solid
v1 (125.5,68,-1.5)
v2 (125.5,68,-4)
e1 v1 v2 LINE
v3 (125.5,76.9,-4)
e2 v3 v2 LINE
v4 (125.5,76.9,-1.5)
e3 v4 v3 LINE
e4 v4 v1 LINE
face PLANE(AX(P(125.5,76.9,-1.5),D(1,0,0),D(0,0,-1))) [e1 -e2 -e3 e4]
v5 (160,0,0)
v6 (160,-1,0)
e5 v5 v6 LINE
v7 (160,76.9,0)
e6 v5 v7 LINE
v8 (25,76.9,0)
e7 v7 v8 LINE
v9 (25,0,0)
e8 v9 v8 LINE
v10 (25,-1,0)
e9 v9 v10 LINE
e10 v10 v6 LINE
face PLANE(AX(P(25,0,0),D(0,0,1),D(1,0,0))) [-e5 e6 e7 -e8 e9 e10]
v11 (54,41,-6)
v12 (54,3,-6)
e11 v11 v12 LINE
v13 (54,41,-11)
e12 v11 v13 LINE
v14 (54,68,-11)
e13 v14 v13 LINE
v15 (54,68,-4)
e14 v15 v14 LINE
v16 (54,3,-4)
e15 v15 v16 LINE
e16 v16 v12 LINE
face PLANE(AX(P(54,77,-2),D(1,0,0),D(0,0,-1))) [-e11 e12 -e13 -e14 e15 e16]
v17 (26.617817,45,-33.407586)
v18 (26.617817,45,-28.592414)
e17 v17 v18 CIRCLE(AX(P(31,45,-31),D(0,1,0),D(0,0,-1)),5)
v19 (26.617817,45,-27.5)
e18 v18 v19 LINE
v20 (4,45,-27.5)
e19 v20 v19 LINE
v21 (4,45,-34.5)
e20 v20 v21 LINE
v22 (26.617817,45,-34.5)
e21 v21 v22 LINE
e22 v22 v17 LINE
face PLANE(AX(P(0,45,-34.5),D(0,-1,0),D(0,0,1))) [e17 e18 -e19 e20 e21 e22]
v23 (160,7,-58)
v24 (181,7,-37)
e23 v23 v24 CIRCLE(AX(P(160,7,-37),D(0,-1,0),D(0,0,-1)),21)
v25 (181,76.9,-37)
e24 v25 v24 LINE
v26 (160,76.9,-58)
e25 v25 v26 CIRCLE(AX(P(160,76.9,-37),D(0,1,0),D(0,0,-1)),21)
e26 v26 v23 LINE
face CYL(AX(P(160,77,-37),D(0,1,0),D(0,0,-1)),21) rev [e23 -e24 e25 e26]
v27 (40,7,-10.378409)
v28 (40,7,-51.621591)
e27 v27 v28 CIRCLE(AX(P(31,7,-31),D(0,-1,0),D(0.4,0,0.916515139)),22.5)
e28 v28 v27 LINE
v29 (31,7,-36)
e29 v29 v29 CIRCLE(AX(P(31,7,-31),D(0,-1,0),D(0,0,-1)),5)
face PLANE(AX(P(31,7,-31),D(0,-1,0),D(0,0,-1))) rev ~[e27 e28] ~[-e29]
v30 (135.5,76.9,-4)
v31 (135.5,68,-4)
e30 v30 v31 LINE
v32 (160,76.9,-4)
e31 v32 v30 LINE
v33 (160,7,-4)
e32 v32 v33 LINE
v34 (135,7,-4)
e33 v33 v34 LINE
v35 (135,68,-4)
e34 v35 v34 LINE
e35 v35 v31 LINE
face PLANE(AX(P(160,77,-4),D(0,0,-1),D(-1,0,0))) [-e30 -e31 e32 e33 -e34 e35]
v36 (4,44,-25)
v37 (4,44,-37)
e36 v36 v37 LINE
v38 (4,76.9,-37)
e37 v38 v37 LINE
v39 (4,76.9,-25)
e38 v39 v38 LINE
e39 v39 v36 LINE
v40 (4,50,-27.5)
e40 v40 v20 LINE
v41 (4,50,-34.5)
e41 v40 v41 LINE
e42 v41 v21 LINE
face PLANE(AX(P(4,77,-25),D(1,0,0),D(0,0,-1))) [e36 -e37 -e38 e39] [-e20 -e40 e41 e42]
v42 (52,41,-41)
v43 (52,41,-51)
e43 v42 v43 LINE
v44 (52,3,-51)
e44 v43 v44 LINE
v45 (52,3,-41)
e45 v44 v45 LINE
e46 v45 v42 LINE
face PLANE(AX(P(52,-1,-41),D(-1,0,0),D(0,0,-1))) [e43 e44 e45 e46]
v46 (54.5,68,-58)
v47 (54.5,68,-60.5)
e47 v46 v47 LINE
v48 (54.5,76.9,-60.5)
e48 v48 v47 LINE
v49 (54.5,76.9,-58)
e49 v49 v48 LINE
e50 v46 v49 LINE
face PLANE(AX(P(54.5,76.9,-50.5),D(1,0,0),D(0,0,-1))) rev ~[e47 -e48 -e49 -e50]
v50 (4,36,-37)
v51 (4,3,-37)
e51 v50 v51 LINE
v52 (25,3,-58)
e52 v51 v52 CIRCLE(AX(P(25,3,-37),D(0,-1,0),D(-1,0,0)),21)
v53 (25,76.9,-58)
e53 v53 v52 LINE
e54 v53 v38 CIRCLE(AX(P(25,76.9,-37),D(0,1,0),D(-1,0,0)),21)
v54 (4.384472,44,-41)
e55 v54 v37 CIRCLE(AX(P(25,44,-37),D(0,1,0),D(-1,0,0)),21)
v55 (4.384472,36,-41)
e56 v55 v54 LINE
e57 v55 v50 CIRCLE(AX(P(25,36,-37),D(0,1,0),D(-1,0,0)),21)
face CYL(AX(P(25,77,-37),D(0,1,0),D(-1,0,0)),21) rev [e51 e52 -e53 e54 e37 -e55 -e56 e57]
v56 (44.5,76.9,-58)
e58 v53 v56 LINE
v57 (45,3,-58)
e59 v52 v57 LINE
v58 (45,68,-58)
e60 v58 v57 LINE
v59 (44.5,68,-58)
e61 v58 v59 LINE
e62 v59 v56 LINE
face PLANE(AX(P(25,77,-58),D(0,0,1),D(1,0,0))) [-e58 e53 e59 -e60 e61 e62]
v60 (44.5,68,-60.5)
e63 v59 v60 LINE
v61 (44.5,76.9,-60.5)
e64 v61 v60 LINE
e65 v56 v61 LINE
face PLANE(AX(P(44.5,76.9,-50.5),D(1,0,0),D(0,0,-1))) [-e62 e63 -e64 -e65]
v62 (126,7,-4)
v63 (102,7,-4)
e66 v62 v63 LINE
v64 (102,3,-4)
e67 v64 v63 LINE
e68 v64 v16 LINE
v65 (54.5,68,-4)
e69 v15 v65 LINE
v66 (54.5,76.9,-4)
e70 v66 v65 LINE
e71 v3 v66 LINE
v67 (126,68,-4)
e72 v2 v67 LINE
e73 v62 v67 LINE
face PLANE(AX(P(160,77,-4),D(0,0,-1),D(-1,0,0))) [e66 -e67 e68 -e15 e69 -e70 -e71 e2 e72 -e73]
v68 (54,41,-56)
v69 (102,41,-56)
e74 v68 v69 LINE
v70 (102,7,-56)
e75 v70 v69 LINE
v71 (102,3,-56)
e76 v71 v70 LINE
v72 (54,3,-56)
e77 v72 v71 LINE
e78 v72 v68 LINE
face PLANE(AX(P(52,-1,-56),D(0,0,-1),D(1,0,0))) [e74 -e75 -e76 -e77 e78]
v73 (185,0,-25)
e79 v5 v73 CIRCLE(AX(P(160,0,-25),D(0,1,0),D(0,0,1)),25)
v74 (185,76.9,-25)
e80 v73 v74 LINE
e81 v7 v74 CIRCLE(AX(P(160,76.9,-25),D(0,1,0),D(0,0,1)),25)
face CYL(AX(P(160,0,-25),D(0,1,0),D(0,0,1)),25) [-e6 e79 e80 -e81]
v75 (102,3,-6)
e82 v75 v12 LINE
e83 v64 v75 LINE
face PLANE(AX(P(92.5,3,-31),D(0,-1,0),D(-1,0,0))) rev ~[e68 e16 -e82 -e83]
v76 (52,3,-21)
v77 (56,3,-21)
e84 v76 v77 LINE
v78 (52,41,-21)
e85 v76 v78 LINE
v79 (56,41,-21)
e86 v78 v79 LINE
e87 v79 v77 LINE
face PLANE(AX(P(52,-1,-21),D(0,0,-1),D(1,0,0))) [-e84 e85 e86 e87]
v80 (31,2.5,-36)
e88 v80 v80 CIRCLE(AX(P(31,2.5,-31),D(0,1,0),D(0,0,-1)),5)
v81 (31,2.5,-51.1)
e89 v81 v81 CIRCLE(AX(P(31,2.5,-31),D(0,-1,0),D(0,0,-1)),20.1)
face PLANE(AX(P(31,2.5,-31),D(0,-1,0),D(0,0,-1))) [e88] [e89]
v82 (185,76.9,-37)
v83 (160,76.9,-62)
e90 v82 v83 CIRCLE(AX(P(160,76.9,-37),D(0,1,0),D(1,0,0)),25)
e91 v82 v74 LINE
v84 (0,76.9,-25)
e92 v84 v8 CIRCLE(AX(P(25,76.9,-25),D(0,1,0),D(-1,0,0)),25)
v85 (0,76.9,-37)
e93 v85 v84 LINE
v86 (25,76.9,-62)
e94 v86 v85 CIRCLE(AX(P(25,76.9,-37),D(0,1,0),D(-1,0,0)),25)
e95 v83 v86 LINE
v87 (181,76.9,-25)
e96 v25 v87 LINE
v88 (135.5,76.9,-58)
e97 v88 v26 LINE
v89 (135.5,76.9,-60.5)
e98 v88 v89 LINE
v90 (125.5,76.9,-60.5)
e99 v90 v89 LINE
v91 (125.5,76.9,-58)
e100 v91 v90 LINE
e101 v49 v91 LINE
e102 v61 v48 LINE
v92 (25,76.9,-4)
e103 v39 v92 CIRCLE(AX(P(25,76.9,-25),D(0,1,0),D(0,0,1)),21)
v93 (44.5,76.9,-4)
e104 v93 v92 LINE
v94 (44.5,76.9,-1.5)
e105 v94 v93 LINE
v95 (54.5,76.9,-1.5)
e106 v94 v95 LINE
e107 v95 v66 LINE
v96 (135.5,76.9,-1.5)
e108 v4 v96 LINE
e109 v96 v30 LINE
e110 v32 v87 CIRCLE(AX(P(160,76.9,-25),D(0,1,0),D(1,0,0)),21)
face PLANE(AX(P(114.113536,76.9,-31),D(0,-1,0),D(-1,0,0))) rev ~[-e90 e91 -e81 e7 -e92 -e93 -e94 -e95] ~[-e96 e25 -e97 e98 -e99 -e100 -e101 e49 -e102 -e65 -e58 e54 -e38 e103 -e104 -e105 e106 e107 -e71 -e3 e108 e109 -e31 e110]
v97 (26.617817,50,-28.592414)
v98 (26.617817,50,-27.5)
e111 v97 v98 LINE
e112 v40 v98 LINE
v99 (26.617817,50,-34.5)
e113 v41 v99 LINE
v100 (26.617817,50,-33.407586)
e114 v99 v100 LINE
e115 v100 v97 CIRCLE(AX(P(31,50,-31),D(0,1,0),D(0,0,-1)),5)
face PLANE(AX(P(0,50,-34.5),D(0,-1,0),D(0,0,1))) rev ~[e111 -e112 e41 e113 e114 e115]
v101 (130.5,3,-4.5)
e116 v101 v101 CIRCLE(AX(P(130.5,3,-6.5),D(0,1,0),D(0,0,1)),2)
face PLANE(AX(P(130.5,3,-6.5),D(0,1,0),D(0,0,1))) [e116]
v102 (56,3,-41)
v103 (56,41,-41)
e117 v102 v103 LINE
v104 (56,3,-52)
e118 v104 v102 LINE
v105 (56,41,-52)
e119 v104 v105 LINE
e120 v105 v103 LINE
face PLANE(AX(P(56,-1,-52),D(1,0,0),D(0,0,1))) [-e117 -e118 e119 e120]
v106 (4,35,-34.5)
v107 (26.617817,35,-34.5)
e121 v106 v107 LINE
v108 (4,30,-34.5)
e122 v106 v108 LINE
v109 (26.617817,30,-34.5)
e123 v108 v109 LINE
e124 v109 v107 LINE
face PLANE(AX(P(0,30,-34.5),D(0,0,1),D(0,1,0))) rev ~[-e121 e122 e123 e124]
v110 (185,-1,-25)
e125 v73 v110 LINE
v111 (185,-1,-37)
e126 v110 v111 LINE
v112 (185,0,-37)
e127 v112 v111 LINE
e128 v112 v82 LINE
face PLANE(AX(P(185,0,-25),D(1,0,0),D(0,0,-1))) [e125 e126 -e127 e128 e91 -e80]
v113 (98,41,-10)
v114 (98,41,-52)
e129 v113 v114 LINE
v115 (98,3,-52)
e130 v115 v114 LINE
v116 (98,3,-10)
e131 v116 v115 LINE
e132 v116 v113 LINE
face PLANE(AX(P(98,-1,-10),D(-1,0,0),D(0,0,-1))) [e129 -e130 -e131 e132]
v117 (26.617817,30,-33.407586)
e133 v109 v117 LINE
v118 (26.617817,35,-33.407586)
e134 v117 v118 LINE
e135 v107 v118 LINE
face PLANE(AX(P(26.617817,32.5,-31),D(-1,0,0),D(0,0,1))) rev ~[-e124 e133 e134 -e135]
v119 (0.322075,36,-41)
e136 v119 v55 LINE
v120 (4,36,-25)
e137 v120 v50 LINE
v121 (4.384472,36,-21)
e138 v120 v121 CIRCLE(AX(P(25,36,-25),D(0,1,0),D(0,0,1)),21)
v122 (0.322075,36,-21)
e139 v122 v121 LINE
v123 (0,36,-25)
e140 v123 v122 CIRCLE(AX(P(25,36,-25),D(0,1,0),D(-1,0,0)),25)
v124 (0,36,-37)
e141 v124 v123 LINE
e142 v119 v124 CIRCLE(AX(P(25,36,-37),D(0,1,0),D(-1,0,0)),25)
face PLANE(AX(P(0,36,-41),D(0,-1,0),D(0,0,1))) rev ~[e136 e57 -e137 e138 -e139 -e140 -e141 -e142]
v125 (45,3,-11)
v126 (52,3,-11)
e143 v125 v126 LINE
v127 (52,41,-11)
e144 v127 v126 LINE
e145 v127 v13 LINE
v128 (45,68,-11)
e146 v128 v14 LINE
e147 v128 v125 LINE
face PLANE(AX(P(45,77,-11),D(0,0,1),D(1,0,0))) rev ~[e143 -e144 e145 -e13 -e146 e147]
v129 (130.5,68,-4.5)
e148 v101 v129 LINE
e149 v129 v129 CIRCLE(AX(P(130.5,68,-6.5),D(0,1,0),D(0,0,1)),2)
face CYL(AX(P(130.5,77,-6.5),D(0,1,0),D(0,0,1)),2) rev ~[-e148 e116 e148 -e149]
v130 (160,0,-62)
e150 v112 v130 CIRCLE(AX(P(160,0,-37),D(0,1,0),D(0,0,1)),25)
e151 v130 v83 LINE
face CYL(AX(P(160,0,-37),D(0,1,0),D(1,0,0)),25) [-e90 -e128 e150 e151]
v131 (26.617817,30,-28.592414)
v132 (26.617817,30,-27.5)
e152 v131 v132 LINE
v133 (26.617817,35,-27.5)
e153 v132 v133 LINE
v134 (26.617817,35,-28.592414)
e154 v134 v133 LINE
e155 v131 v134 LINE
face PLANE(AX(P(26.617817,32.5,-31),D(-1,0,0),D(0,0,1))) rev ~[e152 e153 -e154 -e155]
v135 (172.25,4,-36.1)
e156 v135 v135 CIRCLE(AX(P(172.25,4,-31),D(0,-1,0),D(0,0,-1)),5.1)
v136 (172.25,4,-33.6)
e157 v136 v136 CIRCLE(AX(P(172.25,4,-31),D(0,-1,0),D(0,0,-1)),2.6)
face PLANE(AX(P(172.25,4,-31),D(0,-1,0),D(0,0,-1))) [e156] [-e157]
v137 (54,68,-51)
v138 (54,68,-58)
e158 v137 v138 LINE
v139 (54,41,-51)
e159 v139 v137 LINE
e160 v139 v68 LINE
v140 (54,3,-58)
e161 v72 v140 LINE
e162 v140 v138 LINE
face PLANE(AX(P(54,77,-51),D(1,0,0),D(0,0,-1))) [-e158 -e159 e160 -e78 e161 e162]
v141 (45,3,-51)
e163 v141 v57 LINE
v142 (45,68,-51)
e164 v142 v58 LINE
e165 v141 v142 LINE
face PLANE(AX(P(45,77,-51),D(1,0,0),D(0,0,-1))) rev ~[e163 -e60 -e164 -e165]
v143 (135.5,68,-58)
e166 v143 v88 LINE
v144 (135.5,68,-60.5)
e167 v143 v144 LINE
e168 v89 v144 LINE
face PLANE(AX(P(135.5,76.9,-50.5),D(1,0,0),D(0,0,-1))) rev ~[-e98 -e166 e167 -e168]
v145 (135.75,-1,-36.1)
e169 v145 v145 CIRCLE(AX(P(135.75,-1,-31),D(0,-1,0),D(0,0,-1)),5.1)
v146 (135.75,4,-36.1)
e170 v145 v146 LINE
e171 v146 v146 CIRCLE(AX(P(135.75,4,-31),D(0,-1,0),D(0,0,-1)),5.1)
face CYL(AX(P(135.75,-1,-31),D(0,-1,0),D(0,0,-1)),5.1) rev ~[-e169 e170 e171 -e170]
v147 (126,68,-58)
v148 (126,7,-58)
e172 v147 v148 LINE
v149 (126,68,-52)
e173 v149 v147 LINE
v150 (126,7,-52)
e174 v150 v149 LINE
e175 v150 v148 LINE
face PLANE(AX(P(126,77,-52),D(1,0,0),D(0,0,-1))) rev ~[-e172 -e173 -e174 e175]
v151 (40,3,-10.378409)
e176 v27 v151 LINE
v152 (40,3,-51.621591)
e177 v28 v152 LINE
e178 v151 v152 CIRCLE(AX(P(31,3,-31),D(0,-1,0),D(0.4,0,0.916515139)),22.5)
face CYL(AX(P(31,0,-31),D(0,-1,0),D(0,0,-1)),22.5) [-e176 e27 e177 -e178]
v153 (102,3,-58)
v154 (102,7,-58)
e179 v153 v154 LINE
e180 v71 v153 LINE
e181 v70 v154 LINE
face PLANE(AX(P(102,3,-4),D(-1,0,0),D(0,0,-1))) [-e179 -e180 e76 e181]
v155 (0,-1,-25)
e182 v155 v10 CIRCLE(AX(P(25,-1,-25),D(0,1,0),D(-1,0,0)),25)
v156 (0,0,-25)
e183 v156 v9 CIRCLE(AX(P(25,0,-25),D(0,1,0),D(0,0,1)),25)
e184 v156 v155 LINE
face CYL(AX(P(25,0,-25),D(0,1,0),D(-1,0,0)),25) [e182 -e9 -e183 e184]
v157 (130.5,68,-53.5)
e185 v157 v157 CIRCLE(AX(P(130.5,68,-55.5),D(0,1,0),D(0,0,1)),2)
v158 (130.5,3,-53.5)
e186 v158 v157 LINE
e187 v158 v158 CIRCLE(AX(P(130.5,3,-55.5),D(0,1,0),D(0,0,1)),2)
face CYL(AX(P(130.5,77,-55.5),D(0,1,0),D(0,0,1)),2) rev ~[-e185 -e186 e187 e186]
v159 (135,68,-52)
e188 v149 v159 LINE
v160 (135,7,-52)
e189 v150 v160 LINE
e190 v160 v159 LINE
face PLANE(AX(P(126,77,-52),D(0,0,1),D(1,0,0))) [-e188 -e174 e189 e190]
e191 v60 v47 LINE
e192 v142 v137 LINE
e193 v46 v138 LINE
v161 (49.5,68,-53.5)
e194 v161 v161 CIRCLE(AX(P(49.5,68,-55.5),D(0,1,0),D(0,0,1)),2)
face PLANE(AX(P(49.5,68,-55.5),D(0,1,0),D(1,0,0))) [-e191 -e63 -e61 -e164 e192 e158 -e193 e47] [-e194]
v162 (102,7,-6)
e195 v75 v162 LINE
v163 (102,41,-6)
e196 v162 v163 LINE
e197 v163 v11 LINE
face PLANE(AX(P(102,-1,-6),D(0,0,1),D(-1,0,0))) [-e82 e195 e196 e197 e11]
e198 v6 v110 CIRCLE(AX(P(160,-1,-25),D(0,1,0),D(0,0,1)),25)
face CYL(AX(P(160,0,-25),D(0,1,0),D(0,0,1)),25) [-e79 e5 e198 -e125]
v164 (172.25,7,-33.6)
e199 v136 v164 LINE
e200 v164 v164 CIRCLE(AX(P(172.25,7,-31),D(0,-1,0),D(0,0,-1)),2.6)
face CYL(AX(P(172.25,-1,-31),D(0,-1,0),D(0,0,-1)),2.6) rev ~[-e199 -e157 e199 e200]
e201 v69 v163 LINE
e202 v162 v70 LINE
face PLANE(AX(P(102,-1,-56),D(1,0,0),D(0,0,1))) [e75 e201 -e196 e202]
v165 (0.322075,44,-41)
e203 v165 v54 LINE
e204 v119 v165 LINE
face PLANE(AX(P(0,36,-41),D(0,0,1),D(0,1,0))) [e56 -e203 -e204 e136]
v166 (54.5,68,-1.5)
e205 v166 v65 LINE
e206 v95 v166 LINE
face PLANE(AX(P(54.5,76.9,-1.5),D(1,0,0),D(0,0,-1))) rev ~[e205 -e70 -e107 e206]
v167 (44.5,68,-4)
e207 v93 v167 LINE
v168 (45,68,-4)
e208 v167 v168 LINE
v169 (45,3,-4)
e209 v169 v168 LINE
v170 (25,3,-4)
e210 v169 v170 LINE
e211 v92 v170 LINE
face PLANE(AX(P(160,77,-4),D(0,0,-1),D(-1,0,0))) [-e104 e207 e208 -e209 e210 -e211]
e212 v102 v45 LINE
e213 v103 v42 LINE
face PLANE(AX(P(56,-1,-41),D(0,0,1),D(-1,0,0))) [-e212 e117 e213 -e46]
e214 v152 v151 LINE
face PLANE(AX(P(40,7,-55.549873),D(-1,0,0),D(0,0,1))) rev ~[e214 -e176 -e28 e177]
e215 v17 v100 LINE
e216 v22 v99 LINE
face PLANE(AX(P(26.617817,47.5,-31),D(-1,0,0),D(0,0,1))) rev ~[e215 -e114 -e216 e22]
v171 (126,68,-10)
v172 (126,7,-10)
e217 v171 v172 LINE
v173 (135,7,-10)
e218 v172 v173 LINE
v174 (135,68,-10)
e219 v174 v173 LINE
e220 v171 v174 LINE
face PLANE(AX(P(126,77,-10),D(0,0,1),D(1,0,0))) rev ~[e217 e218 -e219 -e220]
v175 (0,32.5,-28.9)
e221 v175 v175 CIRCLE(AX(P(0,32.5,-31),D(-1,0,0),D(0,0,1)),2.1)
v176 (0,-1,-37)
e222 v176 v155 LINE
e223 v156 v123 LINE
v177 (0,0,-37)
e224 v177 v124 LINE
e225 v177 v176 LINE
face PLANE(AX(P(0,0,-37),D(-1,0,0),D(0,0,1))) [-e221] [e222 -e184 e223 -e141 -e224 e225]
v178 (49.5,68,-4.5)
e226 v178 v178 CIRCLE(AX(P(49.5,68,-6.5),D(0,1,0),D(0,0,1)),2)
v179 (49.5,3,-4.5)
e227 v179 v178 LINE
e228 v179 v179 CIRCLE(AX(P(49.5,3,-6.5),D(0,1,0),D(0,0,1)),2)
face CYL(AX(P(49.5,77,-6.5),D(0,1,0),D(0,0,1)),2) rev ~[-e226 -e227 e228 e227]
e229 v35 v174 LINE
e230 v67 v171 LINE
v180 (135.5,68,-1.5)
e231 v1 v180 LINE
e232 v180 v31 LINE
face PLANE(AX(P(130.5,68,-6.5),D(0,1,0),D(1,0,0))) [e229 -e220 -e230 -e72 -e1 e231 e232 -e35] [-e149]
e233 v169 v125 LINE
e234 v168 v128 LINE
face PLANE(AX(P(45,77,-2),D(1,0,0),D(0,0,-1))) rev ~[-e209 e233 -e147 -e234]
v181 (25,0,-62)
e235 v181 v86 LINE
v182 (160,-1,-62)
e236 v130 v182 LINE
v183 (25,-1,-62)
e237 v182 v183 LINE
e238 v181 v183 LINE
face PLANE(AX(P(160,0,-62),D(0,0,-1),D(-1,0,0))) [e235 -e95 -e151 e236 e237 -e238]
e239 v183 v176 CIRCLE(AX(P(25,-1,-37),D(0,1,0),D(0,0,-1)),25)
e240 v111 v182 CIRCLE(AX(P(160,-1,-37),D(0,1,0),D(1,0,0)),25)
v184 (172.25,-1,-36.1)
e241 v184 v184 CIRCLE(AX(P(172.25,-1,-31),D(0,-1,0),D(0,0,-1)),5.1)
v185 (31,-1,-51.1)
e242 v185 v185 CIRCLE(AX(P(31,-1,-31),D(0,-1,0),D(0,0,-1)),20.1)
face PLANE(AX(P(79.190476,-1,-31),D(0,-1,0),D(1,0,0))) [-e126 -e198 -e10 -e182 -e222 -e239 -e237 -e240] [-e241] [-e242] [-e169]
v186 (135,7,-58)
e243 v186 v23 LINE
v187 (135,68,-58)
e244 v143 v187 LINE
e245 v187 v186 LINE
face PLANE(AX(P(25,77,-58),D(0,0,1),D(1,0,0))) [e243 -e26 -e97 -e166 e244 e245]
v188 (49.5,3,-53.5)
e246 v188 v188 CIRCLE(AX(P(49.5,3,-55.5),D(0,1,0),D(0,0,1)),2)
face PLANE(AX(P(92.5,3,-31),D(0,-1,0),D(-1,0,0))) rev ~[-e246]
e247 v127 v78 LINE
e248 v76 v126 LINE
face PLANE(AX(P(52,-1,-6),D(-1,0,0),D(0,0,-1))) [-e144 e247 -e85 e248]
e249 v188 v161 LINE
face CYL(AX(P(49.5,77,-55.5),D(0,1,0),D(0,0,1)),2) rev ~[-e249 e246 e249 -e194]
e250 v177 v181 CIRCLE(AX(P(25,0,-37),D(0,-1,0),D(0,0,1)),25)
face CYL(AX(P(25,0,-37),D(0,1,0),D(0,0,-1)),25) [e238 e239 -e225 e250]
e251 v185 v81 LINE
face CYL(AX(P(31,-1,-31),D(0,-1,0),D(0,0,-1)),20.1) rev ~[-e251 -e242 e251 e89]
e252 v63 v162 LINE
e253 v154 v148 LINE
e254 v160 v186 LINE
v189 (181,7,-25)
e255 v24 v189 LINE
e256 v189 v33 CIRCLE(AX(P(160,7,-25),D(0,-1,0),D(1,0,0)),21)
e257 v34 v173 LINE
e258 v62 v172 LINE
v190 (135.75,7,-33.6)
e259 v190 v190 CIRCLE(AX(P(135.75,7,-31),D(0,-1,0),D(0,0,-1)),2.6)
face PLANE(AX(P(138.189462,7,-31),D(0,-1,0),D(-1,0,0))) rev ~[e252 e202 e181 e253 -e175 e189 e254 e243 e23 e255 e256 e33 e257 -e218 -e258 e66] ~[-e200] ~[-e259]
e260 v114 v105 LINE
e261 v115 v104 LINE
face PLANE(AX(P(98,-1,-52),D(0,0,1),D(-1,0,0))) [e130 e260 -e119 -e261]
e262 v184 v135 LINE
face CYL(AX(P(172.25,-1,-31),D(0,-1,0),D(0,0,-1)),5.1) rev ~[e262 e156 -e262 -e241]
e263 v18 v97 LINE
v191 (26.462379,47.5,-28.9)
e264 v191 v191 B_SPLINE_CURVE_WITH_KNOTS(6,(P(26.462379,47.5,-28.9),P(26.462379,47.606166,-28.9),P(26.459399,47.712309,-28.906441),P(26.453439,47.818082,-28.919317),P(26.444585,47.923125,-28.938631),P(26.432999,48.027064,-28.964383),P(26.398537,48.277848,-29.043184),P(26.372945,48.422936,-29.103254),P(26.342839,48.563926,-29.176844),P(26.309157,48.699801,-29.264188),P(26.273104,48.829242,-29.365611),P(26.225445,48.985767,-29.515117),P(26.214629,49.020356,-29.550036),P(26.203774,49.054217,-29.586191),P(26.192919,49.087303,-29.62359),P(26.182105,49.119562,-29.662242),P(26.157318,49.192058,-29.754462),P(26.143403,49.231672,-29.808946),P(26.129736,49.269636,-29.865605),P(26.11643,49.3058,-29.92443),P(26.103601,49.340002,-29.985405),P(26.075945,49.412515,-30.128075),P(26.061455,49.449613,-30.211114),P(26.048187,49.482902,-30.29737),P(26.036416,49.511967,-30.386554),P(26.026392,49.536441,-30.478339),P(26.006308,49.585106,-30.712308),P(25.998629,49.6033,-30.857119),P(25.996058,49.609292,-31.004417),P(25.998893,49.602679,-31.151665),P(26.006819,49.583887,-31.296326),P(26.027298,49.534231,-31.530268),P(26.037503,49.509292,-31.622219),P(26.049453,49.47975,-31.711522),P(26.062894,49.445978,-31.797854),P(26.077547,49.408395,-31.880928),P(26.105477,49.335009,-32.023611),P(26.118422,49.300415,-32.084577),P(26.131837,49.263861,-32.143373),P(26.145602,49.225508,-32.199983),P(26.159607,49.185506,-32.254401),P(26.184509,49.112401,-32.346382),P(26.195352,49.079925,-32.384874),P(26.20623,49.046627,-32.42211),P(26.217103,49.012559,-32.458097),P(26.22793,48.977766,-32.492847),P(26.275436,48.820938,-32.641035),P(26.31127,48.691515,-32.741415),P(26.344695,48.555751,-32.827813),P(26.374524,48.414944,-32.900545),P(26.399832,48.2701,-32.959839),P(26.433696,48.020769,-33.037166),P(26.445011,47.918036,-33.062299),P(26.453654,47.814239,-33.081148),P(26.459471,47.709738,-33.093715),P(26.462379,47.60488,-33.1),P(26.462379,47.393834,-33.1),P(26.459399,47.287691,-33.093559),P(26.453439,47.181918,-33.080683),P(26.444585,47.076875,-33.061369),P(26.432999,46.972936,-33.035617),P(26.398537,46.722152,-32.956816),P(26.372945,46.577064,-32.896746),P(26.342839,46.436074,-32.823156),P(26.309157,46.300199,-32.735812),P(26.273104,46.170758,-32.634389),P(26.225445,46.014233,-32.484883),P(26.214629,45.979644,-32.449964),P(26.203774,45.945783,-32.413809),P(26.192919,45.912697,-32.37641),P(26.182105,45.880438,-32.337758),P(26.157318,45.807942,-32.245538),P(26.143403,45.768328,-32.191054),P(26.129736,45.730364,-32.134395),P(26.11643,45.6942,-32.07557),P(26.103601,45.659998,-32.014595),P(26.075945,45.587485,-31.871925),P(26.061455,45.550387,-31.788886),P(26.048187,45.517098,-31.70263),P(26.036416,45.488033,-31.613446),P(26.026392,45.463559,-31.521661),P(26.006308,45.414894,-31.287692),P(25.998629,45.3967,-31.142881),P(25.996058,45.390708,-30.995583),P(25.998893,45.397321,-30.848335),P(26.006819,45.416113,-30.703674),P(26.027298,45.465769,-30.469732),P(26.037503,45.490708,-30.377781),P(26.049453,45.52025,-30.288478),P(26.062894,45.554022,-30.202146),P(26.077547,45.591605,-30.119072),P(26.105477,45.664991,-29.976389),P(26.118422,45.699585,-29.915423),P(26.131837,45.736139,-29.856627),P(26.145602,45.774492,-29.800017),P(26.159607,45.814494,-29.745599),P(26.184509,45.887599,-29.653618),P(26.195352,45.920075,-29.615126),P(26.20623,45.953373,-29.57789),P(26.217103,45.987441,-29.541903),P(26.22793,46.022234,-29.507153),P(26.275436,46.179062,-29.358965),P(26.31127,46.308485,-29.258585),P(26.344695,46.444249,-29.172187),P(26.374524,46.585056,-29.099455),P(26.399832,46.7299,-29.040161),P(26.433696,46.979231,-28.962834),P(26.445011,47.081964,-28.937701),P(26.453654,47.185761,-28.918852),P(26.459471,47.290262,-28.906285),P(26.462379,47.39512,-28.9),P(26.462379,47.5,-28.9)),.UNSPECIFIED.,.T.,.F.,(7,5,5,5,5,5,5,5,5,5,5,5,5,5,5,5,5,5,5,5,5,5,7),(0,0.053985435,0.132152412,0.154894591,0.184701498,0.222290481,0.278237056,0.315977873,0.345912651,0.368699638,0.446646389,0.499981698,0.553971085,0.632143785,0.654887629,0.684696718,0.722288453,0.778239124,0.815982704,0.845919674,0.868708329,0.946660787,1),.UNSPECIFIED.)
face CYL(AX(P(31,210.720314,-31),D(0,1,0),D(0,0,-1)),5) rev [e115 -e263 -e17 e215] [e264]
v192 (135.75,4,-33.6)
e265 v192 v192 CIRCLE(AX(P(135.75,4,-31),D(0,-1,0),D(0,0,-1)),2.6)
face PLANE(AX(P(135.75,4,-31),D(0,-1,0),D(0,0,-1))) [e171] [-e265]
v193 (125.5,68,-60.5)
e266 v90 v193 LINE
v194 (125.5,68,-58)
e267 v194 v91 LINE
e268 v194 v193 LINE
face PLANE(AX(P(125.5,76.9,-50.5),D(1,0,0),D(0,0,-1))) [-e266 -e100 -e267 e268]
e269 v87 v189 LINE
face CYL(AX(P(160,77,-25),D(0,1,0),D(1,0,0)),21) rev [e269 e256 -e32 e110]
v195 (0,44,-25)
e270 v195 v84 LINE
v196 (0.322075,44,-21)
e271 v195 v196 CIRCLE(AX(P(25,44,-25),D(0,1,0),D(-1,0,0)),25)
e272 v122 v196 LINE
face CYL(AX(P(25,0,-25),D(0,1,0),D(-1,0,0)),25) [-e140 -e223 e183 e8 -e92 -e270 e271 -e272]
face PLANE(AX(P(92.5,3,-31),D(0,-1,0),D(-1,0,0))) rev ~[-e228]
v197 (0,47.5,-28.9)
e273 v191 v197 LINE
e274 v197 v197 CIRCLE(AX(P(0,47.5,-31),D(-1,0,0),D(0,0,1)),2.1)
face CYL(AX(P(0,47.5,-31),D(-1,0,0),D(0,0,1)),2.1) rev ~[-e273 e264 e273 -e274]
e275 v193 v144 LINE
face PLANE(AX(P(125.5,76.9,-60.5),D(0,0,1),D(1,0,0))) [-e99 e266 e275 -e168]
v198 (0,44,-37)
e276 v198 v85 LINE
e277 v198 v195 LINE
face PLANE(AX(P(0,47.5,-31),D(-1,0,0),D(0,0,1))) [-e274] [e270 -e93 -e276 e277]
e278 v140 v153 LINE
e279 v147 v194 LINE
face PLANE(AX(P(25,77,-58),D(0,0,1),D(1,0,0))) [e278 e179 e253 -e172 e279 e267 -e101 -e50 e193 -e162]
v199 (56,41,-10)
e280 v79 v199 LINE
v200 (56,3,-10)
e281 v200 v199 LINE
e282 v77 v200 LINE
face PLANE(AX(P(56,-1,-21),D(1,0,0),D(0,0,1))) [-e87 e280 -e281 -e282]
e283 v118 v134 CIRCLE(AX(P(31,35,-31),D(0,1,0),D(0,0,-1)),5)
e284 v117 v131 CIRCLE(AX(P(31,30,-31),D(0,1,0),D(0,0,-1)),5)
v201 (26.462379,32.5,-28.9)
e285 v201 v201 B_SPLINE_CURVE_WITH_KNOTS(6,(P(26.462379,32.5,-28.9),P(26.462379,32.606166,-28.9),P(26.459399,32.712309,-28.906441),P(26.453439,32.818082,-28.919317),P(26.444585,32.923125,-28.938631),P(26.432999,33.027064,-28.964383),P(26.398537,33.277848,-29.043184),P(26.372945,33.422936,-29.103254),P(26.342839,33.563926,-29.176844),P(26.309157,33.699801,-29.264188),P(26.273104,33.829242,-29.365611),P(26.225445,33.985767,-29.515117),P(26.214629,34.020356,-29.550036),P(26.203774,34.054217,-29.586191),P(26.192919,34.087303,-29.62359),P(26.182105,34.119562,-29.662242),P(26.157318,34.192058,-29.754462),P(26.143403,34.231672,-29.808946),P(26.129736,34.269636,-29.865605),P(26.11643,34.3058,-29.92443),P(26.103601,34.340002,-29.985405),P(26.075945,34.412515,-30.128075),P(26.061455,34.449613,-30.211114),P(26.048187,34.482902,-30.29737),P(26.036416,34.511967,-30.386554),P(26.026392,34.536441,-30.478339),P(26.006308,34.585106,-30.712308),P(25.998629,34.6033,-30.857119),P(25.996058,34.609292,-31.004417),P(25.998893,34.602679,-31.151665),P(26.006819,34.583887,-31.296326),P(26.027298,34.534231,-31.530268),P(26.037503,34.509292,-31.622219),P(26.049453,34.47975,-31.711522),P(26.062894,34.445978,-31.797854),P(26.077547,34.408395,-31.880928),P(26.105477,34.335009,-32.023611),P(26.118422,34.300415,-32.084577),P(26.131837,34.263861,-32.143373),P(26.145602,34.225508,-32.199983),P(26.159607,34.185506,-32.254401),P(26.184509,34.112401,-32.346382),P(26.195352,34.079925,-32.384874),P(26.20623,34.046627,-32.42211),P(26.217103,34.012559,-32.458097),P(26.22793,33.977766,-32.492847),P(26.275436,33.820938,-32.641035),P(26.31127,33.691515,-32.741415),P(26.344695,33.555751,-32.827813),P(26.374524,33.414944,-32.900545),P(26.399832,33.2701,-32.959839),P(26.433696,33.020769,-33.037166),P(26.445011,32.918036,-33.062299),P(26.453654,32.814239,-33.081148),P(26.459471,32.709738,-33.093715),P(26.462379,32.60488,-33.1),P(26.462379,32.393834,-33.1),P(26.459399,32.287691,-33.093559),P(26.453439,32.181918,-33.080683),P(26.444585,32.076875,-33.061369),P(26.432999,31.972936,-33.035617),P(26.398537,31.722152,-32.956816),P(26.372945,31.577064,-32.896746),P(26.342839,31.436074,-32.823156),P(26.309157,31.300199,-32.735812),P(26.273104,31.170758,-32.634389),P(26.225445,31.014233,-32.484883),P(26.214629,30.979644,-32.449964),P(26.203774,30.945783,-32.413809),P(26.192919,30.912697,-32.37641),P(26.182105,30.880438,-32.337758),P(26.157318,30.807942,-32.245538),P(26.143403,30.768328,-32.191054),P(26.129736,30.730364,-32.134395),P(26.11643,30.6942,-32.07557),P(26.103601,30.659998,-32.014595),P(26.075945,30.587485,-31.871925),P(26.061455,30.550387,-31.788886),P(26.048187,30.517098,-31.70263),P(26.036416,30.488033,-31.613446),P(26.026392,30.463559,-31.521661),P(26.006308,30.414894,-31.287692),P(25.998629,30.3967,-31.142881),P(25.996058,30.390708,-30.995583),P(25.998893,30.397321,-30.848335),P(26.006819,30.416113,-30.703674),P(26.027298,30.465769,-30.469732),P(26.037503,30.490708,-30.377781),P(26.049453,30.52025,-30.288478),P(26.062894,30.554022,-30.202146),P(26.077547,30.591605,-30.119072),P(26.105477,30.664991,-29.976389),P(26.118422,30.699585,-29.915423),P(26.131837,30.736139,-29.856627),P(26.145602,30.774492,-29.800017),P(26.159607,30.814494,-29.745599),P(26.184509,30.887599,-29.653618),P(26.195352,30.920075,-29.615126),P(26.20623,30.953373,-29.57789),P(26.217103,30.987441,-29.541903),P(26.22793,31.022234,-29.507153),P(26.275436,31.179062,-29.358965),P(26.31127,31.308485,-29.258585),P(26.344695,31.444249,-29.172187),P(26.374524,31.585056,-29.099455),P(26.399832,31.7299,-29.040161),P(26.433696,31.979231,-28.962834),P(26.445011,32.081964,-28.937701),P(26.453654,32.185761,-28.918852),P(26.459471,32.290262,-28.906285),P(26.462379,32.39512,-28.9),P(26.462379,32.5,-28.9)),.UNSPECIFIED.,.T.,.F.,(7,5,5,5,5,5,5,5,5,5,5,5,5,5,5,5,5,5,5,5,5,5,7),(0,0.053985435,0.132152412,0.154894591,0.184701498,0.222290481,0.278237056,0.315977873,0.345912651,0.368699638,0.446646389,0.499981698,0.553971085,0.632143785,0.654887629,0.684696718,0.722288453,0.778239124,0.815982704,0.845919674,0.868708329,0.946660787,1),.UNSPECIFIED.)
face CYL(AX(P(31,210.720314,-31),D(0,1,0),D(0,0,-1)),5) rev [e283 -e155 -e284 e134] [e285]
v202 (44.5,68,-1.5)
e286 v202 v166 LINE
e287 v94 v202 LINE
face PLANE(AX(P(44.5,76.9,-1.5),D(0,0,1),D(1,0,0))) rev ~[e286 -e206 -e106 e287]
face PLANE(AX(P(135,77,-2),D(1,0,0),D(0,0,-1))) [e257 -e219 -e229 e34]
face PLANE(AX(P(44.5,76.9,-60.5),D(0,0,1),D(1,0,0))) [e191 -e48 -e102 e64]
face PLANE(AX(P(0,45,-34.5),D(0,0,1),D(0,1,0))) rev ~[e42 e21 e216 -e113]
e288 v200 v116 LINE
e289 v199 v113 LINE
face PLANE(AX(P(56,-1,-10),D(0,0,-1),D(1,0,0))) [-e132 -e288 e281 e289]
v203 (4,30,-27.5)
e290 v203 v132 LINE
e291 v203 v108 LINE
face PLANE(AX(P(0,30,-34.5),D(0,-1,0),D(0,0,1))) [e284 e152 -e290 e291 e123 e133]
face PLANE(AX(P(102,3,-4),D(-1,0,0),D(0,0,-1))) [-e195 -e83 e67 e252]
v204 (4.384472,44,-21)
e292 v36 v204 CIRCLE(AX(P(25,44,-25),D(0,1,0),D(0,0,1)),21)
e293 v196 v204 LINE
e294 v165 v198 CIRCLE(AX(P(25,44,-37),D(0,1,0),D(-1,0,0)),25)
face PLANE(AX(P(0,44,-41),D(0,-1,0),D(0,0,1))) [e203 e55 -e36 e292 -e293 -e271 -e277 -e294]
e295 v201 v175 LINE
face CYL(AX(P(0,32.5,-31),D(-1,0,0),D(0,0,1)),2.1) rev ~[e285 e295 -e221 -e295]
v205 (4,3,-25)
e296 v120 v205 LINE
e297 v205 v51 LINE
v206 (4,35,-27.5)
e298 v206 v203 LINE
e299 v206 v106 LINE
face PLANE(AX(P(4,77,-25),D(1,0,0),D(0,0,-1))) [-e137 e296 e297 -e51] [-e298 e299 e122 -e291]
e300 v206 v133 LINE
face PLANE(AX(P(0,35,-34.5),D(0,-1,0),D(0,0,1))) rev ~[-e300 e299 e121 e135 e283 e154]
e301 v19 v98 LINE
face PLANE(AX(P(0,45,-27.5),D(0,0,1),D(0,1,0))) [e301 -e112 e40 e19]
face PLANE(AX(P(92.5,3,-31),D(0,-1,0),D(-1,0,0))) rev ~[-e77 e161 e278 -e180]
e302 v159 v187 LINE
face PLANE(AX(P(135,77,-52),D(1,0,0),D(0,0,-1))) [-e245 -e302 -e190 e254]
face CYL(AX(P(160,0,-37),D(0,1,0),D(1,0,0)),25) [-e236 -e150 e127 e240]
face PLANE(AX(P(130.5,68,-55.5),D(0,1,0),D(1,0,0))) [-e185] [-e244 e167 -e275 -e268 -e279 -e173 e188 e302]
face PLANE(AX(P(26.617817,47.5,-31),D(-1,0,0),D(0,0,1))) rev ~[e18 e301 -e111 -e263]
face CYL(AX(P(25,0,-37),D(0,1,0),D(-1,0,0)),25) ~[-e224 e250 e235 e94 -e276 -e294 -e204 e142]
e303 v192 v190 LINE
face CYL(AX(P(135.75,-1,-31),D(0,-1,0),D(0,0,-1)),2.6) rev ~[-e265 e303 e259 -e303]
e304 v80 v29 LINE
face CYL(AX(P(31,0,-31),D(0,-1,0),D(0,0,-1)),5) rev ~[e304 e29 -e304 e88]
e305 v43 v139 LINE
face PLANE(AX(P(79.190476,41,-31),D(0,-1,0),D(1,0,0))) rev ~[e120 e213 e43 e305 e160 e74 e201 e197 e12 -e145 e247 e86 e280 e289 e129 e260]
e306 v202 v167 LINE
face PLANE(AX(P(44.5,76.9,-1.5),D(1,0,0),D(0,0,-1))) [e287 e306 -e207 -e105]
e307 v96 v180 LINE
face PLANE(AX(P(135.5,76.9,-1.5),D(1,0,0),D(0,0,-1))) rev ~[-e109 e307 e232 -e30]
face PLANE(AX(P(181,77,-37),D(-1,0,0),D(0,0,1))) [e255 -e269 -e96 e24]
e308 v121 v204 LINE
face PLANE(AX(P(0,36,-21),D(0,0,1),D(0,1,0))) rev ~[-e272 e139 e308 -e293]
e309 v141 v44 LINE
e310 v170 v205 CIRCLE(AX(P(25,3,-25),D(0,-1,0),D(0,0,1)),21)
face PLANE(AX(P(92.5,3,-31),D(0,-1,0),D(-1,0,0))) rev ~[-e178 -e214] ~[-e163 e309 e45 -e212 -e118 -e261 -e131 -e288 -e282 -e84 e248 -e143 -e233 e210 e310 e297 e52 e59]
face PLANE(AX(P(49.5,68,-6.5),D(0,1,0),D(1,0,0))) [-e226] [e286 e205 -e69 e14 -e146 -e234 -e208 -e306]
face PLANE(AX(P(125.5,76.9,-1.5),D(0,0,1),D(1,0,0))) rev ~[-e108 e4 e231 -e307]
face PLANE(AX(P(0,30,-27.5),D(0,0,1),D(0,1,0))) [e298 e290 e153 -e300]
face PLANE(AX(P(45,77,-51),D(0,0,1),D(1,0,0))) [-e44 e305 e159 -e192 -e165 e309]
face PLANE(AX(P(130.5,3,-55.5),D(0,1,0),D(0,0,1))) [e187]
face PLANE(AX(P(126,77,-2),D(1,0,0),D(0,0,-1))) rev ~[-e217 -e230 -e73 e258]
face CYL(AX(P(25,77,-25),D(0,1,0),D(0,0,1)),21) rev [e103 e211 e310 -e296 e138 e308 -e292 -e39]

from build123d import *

# Parameters (mm, degrees)
SKETCH1_W                = 185
SKETCH1_H                = 62
BOSS_EXTRUDE1_DEPTH      = 80
FILLET1_R                = 25
CUT_EXTRUDE6_DEPTH       = 74
SKETCH19_R               = 22.5
SKETCH19_R_2             = 5
BOSS_EXTRUDE7_DEPTH      = 7
SKETCH25_W               = 20
SKETCH25_H               = 8
CUT_EXTRUDE16_DEPTH      = 14
CUT_EXTRUDE21_DEPTH      = 0.1
BOSS_EXTRUDE10_DEPTH     = 1
BOSS_EXTRUDE12_DEPTH     = 42
SKETCH30_W               = 9
SKETCH30_H               = 9
SKETCH30_R               = 2
SKETCH30_H_2             = 8
BOSS_EXTRUDE11_DEPTH     = 20
CUT_EXTRUDE27_START      = 80
SKETCH1_3_W              = 185
SKETCH1_3_H              = 62
CUT_EXTRUDE27_DEPTH      = 3
BOSS_EXTRUDE13_REACH     = 212.126
SKETCH30_3_W             = 9
SKETCH30_3_H             = 9
SKETCH30_3_R             = 2
SKETCH30_3_H_2           = 8
SKETCH30_6_W             = 9
SKETCH30_6_H             = 9
SKETCH30_6_R             = 2
SKETCH30_6_H_2           = 8
CUT_EXTRUDE29_DEPTH      = 9
SKETCH34_R               = 20.1
CUT_EXTRUDE30_DEPTH      = 3.5
SKETCH35_W               = 7
SKETCH35_H               = 5
SKETCH35_R               = 2.1
BOSS_EXTRUDE14_DEPTH     = 26.617816632
SKETCH35_2_R             = 2.1
CUT_EXTRUDE31_DEPTH      = 10
BOSS_EXTRUDE15_DEPTH     = 4
SKETCH37_R               = 5.1
SKETCH37_R_2             = 2.6
CUT_EXTRUDE32_DEPTH      = 5
SKETCH37_2_R             = 2.6
CUT_EXTRUDE33_DEPTH      = 45
SKETCH30_7_R             = 2
CUT_EXTRUDE34_DEPTH      = 74
CUT_EXTRUDE36_DEPTH      = 210.720313751
CUT_EXTRUDE36_DEPTH_BACK = 210.720313751
SKETCH19_3_R             = 5
SKETCH40_W               = 10
SKETCH40_H               = 10
CUT_EXTRUDE37_DEPTH      = 8.9
CUT_EXTRUDE38_DEPTH      = 4


with BuildPart() as part:
    # Sketch1 → Boss-Extrude1 (new body)
    with BuildSketch(Plane(origin=(0, 0, 0), x_dir=(1, 0, 0), z_dir=(0, 1, 0))):
        with Locations((92.5, 31)):
            Rectangle(SKETCH1_W, SKETCH1_H)
    extrude(amount=BOSS_EXTRUDE1_DEPTH)

    # Fillet1
    fillet1_edges = [part.edges().sort_by_distance(p)[0] for p in [
        (0, 40, -62),
        (185, 40, -62),
        (185, 40, 0),
        (0, 40, 0),
    ]]
    fillet(fillet1_edges, radius=FILLET1_R)

    # Sketch7 → Cut-Extrude6 (cut)
    with BuildSketch(Plane(origin=(0, 77, 0), x_dir=(1, 0, 0), z_dir=(0, 1, 0))):
        with BuildLine():
            Line((25, 58), (160, 58))
            ThreePointArc((160, 58), (174.849242405, 51.849242405), (181, 37))
            Line((181, 37), (181, 25))
            ThreePointArc((181, 25), (174.849242405, 10.150757595), (160, 4))
            Line((160, 4), (25, 4))
            ThreePointArc((25, 4), (10.150757595, 10.150757595), (4, 25))
            Line((4, 25), (4, 37))
            ThreePointArc((4, 37), (10.150757595, 51.849242405), (25, 58))
        make_face()
    extrude(amount=-CUT_EXTRUDE6_DEPTH, mode=Mode.SUBTRACT)

    # Sketch19 → Boss-Extrude7 (add)
    with BuildSketch(Plane.XZ):
        with Locations(Location((31, -31, 0), (0, 0, 270))):
            Circle(SKETCH19_R)
        with Locations(Location((31, -31, 0), (0, 0, 270))):
            Circle(SKETCH19_R_2, mode=Mode.SUBTRACT)
    extrude(amount=-BOSS_EXTRUDE7_DEPTH)

    # Sketch25 → Cut-Extrude16 (cut)
    with BuildSketch(Plane.ZY):
        with Locations((-31, 40)):
            Rectangle(SKETCH25_W, SKETCH25_H)
    extrude(amount=-CUT_EXTRUDE16_DEPTH, mode=Mode.SUBTRACT)

    # Sketch27 → Cut-Extrude21 (cut)
    with BuildSketch(Plane(origin=(0, 77, 0), x_dir=(1, 0, 0), z_dir=(0, 1, 0))):
        with BuildLine():
            Line((31, 73.5576089), (197.227071292, 73.5576089))
            ThreePointArc((197.227071292, 73.5576089), (239.784680192, 31), (197.227071292, -11.5576089))
            Line((197.227071292, -11.5576089), (31, -11.5576089))
            ThreePointArc((31, -11.5576089), (-11.5576089, 31), (31, 73.5576089))
        make_face()
        with BuildLine():
            Line((4.02, 37), (4.02, 25))
            ThreePointArc((4.02, 25), (10.164899731, 10.164899731), (25, 4.02))
            Line((25, 4.02), (160, 4.02))
            ThreePointArc((160, 4.02), (174.835100269, 10.164899731), (180.98, 25))
            Line((180.98, 25), (180.98, 37))
            ThreePointArc((180.98, 37), (174.835100269, 51.835100269), (160, 57.98))
            Line((160, 57.98), (25, 57.98))
            ThreePointArc((25, 57.98), (10.164899731, 51.835100269), (4.02, 37))
        make_face(mode=Mode.SUBTRACT)
    extrude(amount=-CUT_EXTRUDE21_DEPTH, mode=Mode.SUBTRACT)


with BuildPart() as cut_extrude21_piece_1:
    # of the separate pieces the step leaves, piece 1, a body of its own (cut_extrude21_pieces)
    add(part.part.solids().sort_by_distance((25, 0, 0))[0])

    # Sketch28 → Boss-Extrude10 (add)
    with BuildSketch(Plane.XZ):
        with BuildLine():
            Line((25, 0), (160, 0))
            ThreePointArc((160, 0), (177.67766953, -7.32233047), (185, -25))
            Line((185, -25), (185, -37))
            ThreePointArc((185, -37), (177.67766953, -54.67766953), (160, -62))
            Line((160, -62), (25, -62))
            ThreePointArc((25, -62), (7.32233047, -54.67766953), (0, -37))
            Line((0, -37), (0, -25))
            ThreePointArc((0, -25), (7.32233047, -7.32233047), (25, 0))
        make_face()
    extrude(amount=BOSS_EXTRUDE10_DEPTH)

    # Sketch32 → Boss-Extrude12 (add)
    with BuildSketch(Plane.XZ.offset(1)):
        Polygon((56, -10), (98, -10), (98, -52), (56, -52), (56, -41), (52, -41), (52, -56), (102, -56), (102, -6), (52, -6), (52, -21), (56, -21), align=None)
    extrude(amount=-BOSS_EXTRUDE12_DEPTH)

    # Sketch30 → Boss-Extrude11 (add)
    # profile 1 of 4: a face of its own
    with BuildSketch(Plane(origin=(0, 77, 0), x_dir=(1, 0, 0), z_dir=(0, 1, 0))):
        with Locations((49.5, 6.5)):
            Rectangle(SKETCH30_W, SKETCH30_H)
        with Locations(Location((49.5, 6.5, 0), (0, 0, 270))):
            Circle(SKETCH30_R, mode=Mode.SUBTRACT)
    # profile 2 of 4: a face of its own
    with BuildSketch(Plane(origin=(0, 77, 0), x_dir=(1, 0, 0), z_dir=(0, 1, 0))):
        with Locations((49.5, 55.5)):
            Rectangle(SKETCH30_W, SKETCH30_H)
        with Locations(Location((49.5, 55.5, 0), (0, 0, 270))):
            Circle(SKETCH30_R, mode=Mode.SUBTRACT)
    # profile 3 of 4: a face of its own
    with BuildSketch(Plane(origin=(0, 77, 0), x_dir=(1, 0, 0), z_dir=(0, 1, 0))):
        with Locations((130.5, 56)):
            Rectangle(SKETCH30_W, SKETCH30_H_2)
        with Locations(Location((130.5, 55.5, 0), (0, 0, 270))):
            Circle(SKETCH30_R, mode=Mode.SUBTRACT)
    # profile 4 of 4: a face of its own
    with BuildSketch(Plane(origin=(0, 77, 0), x_dir=(1, 0, 0), z_dir=(0, 1, 0))):
        with Locations((130.5, 6)):
            Rectangle(SKETCH30_W, SKETCH30_H_2)
        with Locations(Location((130.5, 6.5, 0), (0, 0, 270))):
            Circle(SKETCH30_R, mode=Mode.SUBTRACT)
    extrude(amount=-BOSS_EXTRUDE11_DEPTH)

    # Sketch30<3> → Boss-Extrude13 (add, up to next)
    with BuildSketch(Plane(origin=(0, 77, 0), x_dir=(1, 0, 0), z_dir=(0, 1, 0)), mode=Mode.PRIVATE) as boss_extrude13_sk1:
        with Locations((49.5, 6.5)):
            Rectangle(SKETCH30_3_W, SKETCH30_3_H)
        with Locations(Location((49.5, 6.5, 0), (0, 0, 270))):
            Circle(SKETCH30_3_R, mode=Mode.SUBTRACT)
    boss_extrude13_tool1 = extrude(boss_extrude13_sk1.sketch, amount=-BOSS_EXTRUDE13_REACH, mode=Mode.PRIVATE) - cut_extrude21_piece_1.part
    # Sketch30<3> → Boss-Extrude13 (add, up to next)
    with BuildSketch(Plane(origin=(0, 77, 0), x_dir=(1, 0, 0), z_dir=(0, 1, 0)), mode=Mode.PRIVATE) as boss_extrude13_sk2:
        with Locations((49.5, 55.5)):
            Rectangle(SKETCH30_3_W, SKETCH30_3_H)
        with Locations(Location((49.5, 55.5, 0), (0, 0, 270))):
            Circle(SKETCH30_3_R, mode=Mode.SUBTRACT)
    boss_extrude13_tool2 = extrude(boss_extrude13_sk2.sketch, amount=-BOSS_EXTRUDE13_REACH, mode=Mode.PRIVATE) - cut_extrude21_piece_1.part
    # Sketch30<3> → Boss-Extrude13 (add, up to next)
    with BuildSketch(Plane(origin=(0, 77, 0), x_dir=(1, 0, 0), z_dir=(0, 1, 0)), mode=Mode.PRIVATE) as boss_extrude13_sk3:
        with Locations((130.5, 56)):
            Rectangle(SKETCH30_3_W, SKETCH30_3_H_2)
        with Locations(Location((130.5, 55.5, 0), (0, 0, 270))):
            Circle(SKETCH30_3_R, mode=Mode.SUBTRACT)
    boss_extrude13_tool3 = extrude(boss_extrude13_sk3.sketch, amount=-BOSS_EXTRUDE13_REACH, mode=Mode.PRIVATE) - cut_extrude21_piece_1.part
    # Sketch30<3> → Boss-Extrude13 (add, up to next)
    with BuildSketch(Plane(origin=(0, 77, 0), x_dir=(1, 0, 0), z_dir=(0, 1, 0)), mode=Mode.PRIVATE) as boss_extrude13_sk4:
        with Locations((130.5, 6)):
            Rectangle(SKETCH30_3_W, SKETCH30_3_H_2)
        with Locations(Location((130.5, 6.5, 0), (0, 0, 270))):
            Circle(SKETCH30_3_R, mode=Mode.SUBTRACT)
    boss_extrude13_tool4 = extrude(boss_extrude13_sk4.sketch, amount=-BOSS_EXTRUDE13_REACH, mode=Mode.PRIVATE) - cut_extrude21_piece_1.part
    add(boss_extrude13_tool1.solids().sort_by_distance((49.5, 77, -10.872721))[0])
    add(boss_extrude13_tool2.solids().sort_by_distance((49.5, 77, -59.872721))[0])
    add(boss_extrude13_tool3.solids().sort_by_distance((130.5, 77, -59.879584))[0])
    add(boss_extrude13_tool4.solids().sort_by_distance((130.5, 77, -9.879584))[0])

    # Sketch30<6> → Cut-Extrude29 (cut)
    # profile 1 of 4: a face of its own
    with BuildSketch(Plane(origin=(0, 77, 0), x_dir=(1, 0, 0), z_dir=(0, 1, 0))):
        with Locations((49.5, 6.5)):
            Rectangle(SKETCH30_6_W, SKETCH30_6_H)
        with Locations(Location((49.5, 6.5, 0), (0, 0, 270))):
            Circle(SKETCH30_6_R, mode=Mode.SUBTRACT)
    # profile 2 of 4: a face of its own
    with BuildSketch(Plane(origin=(0, 77, 0), x_dir=(1, 0, 0), z_dir=(0, 1, 0))):
        with Locations((49.5, 55.5)):
            Rectangle(SKETCH30_6_W, SKETCH30_6_H)
        with Locations(Location((49.5, 55.5, 0), (0, 0, 270))):
            Circle(SKETCH30_6_R, mode=Mode.SUBTRACT)
    # profile 3 of 4: a face of its own
    with BuildSketch(Plane(origin=(0, 77, 0), x_dir=(1, 0, 0), z_dir=(0, 1, 0))):
        with Locations((130.5, 56)):
            Rectangle(SKETCH30_6_W, SKETCH30_6_H_2)
        with Locations(Location((130.5, 55.5, 0), (0, 0, 270))):
            Circle(SKETCH30_6_R, mode=Mode.SUBTRACT)
    # profile 4 of 4: a face of its own
    with BuildSketch(Plane(origin=(0, 77, 0), x_dir=(1, 0, 0), z_dir=(0, 1, 0))):
        with Locations((130.5, 6)):
            Rectangle(SKETCH30_6_W, SKETCH30_6_H_2)
        with Locations(Location((130.5, 6.5, 0), (0, 0, 270))):
            Circle(SKETCH30_6_R, mode=Mode.SUBTRACT)
    extrude(amount=-CUT_EXTRUDE29_DEPTH, mode=Mode.SUBTRACT)

    # Sketch34 → Cut-Extrude30 (cut)
    with BuildSketch(Plane.XZ.offset(1)):
        with Locations(Location((31, -31, 0), (0, 0, 270))):
            Circle(SKETCH34_R)
    extrude(amount=-CUT_EXTRUDE30_DEPTH, mode=Mode.SUBTRACT)

    # Sketch35 → Boss-Extrude14 (add)
    # profile 1 of 2: a face of its own
    with BuildSketch(Plane.ZY):
        with Locations((-31, 47.5)):
            Rectangle(SKETCH35_W, SKETCH35_H)
        with Locations((-31, 47.5)):
            Circle(SKETCH35_R, mode=Mode.SUBTRACT)
    # profile 2 of 2: a face of its own
    with BuildSketch(Plane.ZY):
        with Locations((-31, 32.5)):
            Rectangle(SKETCH35_W, SKETCH35_H)
        with Locations((-31, 32.5)):
            Circle(SKETCH35_R, mode=Mode.SUBTRACT)
    extrude(amount=-BOSS_EXTRUDE14_DEPTH)

    # Sketch35<2> → Cut-Extrude31 (cut)
    with BuildSketch(Plane.ZY):
        with Locations((-31, 47.5)):
            Circle(SKETCH35_2_R)
        with Locations((-31, 32.5)):
            Circle(SKETCH35_2_R)
    extrude(amount=-CUT_EXTRUDE31_DEPTH, mode=Mode.SUBTRACT)

    # Sketch36 → Boss-Extrude15 (add)
    with BuildSketch(Plane(origin=(0, 3, 0), x_dir=(1, 0, 0), z_dir=(0, 1, 0))):
        with BuildLine():
            Line((102, 58), (160, 58))
            ThreePointArc((160, 58), (174.849242405, 51.849242405), (181, 37))
            Line((181, 37), (181, 25))
            ThreePointArc((181, 25), (174.849242405, 10.150757595), (160, 4))
            Line((160, 4), (102, 4))
            Line((102, 4), (102, 58))
        make_face()
    extrude(amount=BOSS_EXTRUDE15_DEPTH)

    # Sketch37 → Cut-Extrude32 (cut)
    # profile 1 of 2: a face of its own
    with BuildSketch(Plane.XZ.offset(1)):
        with Locations(Location((135.75, -31, 0), (0, 0, 270))):
            Circle(SKETCH37_R)
        with Locations(Location((135.75, -31, 0), (0, 0, 270))):
            Circle(SKETCH37_R_2, mode=Mode.SUBTRACT)
    # profile 2 of 2: a face of its own
    with BuildSketch(Plane.XZ.offset(1)):
        with Locations(Location((172.25, -31, 0), (0, 0, 270))):
            Circle(SKETCH37_R)
        with Locations(Location((172.25, -31, 0), (0, 0, 270))):
            Circle(SKETCH37_R_2, mode=Mode.SUBTRACT)
    extrude(amount=-CUT_EXTRUDE32_DEPTH, mode=Mode.SUBTRACT)

    # Sketch37<2> → Cut-Extrude33 (cut)
    with BuildSketch(Plane.XZ.offset(1)):
        with Locations(Location((135.75, -31, 0), (0, 0, 270))):
            Circle(SKETCH37_2_R)
        with Locations(Location((172.25, -31, 0), (0, 0, 270))):
            Circle(SKETCH37_2_R)
    extrude(amount=-CUT_EXTRUDE33_DEPTH, mode=Mode.SUBTRACT)

    # Sketch30<7> → Cut-Extrude34 (cut)
    with BuildSketch(Plane(origin=(0, 77, 0), x_dir=(1, 0, 0), z_dir=(0, 1, 0))):
        with Locations(Location((130.5, 55.5, 0), (0, 0, 270))):
            Circle(SKETCH30_7_R)
        with Locations(Location((130.5, 6.5, 0), (0, 0, 270))):
            Circle(SKETCH30_7_R)
    extrude(amount=-CUT_EXTRUDE34_DEPTH, mode=Mode.SUBTRACT)

    # Sketch19<3> → Cut-Extrude36 (cut, two sides: drawn at the far end of the back side and taken through both)
    with BuildSketch(Plane.XZ.offset(-CUT_EXTRUDE36_DEPTH_BACK)):
        with Locations(Location((31, -31, 0), (0, 0, 270))):
            Circle(SKETCH19_3_R)
    extrude(amount=CUT_EXTRUDE36_DEPTH + CUT_EXTRUDE36_DEPTH_BACK, mode=Mode.SUBTRACT)

    # Sketch40 → Cut-Extrude37 (cut)
    with BuildSketch(Plane(origin=(0, 76.9, 0), x_dir=(1, 0, 0), z_dir=(0, 1, 0))):
        with Locations((49.5, 55.5)):
            Rectangle(SKETCH40_W, SKETCH40_H)
        with Locations((130.5, 55.5)):
            Rectangle(SKETCH40_W, SKETCH40_H)
        with Locations((130.5, 6.5)):
            Rectangle(SKETCH40_W, SKETCH40_H)
        with Locations((49.5, 6.5)):
            Rectangle(SKETCH40_W, SKETCH40_H)
    extrude(amount=-CUT_EXTRUDE37_DEPTH, mode=Mode.SUBTRACT)

    # Sketch41 → Cut-Extrude38 (cut)
    with BuildSketch(Plane(origin=(0, 7, 0), x_dir=(1, 0, 0), z_dir=(0, 1, 0))):
        Polygon((59.137774549, 41), (52, 41), (52, 48.298784504), (44.023897819, 51), (40, 55.549872581), (40, 8.169228787), (52, 15.585441997), (52, 21), (56, 21), align=None)
    extrude(amount=-CUT_EXTRUDE38_DEPTH, mode=Mode.SUBTRACT)


with BuildPart() as cut_extrude21_piece_2:
    # of the separate pieces the step leaves, piece 2, a body of its own (cut_extrude21_pieces)
    add(part.part.solids().sort_by_distance((160, 77, 0))[0])

    # Sketch1<3> → Cut-Extrude27 (cut)
    with BuildSketch(Plane(origin=(0, 0, 0), x_dir=(1, 0, 0), z_dir=(0, 1, 0)).offset(CUT_EXTRUDE27_START)):
        with Locations((92.5, 31)):
            Rectangle(SKETCH1_3_W, SKETCH1_3_H)
    extrude(amount=-CUT_EXTRUDE27_DEPTH, mode=Mode.SUBTRACT)


solid = cut_extrude21_piece_1.part
